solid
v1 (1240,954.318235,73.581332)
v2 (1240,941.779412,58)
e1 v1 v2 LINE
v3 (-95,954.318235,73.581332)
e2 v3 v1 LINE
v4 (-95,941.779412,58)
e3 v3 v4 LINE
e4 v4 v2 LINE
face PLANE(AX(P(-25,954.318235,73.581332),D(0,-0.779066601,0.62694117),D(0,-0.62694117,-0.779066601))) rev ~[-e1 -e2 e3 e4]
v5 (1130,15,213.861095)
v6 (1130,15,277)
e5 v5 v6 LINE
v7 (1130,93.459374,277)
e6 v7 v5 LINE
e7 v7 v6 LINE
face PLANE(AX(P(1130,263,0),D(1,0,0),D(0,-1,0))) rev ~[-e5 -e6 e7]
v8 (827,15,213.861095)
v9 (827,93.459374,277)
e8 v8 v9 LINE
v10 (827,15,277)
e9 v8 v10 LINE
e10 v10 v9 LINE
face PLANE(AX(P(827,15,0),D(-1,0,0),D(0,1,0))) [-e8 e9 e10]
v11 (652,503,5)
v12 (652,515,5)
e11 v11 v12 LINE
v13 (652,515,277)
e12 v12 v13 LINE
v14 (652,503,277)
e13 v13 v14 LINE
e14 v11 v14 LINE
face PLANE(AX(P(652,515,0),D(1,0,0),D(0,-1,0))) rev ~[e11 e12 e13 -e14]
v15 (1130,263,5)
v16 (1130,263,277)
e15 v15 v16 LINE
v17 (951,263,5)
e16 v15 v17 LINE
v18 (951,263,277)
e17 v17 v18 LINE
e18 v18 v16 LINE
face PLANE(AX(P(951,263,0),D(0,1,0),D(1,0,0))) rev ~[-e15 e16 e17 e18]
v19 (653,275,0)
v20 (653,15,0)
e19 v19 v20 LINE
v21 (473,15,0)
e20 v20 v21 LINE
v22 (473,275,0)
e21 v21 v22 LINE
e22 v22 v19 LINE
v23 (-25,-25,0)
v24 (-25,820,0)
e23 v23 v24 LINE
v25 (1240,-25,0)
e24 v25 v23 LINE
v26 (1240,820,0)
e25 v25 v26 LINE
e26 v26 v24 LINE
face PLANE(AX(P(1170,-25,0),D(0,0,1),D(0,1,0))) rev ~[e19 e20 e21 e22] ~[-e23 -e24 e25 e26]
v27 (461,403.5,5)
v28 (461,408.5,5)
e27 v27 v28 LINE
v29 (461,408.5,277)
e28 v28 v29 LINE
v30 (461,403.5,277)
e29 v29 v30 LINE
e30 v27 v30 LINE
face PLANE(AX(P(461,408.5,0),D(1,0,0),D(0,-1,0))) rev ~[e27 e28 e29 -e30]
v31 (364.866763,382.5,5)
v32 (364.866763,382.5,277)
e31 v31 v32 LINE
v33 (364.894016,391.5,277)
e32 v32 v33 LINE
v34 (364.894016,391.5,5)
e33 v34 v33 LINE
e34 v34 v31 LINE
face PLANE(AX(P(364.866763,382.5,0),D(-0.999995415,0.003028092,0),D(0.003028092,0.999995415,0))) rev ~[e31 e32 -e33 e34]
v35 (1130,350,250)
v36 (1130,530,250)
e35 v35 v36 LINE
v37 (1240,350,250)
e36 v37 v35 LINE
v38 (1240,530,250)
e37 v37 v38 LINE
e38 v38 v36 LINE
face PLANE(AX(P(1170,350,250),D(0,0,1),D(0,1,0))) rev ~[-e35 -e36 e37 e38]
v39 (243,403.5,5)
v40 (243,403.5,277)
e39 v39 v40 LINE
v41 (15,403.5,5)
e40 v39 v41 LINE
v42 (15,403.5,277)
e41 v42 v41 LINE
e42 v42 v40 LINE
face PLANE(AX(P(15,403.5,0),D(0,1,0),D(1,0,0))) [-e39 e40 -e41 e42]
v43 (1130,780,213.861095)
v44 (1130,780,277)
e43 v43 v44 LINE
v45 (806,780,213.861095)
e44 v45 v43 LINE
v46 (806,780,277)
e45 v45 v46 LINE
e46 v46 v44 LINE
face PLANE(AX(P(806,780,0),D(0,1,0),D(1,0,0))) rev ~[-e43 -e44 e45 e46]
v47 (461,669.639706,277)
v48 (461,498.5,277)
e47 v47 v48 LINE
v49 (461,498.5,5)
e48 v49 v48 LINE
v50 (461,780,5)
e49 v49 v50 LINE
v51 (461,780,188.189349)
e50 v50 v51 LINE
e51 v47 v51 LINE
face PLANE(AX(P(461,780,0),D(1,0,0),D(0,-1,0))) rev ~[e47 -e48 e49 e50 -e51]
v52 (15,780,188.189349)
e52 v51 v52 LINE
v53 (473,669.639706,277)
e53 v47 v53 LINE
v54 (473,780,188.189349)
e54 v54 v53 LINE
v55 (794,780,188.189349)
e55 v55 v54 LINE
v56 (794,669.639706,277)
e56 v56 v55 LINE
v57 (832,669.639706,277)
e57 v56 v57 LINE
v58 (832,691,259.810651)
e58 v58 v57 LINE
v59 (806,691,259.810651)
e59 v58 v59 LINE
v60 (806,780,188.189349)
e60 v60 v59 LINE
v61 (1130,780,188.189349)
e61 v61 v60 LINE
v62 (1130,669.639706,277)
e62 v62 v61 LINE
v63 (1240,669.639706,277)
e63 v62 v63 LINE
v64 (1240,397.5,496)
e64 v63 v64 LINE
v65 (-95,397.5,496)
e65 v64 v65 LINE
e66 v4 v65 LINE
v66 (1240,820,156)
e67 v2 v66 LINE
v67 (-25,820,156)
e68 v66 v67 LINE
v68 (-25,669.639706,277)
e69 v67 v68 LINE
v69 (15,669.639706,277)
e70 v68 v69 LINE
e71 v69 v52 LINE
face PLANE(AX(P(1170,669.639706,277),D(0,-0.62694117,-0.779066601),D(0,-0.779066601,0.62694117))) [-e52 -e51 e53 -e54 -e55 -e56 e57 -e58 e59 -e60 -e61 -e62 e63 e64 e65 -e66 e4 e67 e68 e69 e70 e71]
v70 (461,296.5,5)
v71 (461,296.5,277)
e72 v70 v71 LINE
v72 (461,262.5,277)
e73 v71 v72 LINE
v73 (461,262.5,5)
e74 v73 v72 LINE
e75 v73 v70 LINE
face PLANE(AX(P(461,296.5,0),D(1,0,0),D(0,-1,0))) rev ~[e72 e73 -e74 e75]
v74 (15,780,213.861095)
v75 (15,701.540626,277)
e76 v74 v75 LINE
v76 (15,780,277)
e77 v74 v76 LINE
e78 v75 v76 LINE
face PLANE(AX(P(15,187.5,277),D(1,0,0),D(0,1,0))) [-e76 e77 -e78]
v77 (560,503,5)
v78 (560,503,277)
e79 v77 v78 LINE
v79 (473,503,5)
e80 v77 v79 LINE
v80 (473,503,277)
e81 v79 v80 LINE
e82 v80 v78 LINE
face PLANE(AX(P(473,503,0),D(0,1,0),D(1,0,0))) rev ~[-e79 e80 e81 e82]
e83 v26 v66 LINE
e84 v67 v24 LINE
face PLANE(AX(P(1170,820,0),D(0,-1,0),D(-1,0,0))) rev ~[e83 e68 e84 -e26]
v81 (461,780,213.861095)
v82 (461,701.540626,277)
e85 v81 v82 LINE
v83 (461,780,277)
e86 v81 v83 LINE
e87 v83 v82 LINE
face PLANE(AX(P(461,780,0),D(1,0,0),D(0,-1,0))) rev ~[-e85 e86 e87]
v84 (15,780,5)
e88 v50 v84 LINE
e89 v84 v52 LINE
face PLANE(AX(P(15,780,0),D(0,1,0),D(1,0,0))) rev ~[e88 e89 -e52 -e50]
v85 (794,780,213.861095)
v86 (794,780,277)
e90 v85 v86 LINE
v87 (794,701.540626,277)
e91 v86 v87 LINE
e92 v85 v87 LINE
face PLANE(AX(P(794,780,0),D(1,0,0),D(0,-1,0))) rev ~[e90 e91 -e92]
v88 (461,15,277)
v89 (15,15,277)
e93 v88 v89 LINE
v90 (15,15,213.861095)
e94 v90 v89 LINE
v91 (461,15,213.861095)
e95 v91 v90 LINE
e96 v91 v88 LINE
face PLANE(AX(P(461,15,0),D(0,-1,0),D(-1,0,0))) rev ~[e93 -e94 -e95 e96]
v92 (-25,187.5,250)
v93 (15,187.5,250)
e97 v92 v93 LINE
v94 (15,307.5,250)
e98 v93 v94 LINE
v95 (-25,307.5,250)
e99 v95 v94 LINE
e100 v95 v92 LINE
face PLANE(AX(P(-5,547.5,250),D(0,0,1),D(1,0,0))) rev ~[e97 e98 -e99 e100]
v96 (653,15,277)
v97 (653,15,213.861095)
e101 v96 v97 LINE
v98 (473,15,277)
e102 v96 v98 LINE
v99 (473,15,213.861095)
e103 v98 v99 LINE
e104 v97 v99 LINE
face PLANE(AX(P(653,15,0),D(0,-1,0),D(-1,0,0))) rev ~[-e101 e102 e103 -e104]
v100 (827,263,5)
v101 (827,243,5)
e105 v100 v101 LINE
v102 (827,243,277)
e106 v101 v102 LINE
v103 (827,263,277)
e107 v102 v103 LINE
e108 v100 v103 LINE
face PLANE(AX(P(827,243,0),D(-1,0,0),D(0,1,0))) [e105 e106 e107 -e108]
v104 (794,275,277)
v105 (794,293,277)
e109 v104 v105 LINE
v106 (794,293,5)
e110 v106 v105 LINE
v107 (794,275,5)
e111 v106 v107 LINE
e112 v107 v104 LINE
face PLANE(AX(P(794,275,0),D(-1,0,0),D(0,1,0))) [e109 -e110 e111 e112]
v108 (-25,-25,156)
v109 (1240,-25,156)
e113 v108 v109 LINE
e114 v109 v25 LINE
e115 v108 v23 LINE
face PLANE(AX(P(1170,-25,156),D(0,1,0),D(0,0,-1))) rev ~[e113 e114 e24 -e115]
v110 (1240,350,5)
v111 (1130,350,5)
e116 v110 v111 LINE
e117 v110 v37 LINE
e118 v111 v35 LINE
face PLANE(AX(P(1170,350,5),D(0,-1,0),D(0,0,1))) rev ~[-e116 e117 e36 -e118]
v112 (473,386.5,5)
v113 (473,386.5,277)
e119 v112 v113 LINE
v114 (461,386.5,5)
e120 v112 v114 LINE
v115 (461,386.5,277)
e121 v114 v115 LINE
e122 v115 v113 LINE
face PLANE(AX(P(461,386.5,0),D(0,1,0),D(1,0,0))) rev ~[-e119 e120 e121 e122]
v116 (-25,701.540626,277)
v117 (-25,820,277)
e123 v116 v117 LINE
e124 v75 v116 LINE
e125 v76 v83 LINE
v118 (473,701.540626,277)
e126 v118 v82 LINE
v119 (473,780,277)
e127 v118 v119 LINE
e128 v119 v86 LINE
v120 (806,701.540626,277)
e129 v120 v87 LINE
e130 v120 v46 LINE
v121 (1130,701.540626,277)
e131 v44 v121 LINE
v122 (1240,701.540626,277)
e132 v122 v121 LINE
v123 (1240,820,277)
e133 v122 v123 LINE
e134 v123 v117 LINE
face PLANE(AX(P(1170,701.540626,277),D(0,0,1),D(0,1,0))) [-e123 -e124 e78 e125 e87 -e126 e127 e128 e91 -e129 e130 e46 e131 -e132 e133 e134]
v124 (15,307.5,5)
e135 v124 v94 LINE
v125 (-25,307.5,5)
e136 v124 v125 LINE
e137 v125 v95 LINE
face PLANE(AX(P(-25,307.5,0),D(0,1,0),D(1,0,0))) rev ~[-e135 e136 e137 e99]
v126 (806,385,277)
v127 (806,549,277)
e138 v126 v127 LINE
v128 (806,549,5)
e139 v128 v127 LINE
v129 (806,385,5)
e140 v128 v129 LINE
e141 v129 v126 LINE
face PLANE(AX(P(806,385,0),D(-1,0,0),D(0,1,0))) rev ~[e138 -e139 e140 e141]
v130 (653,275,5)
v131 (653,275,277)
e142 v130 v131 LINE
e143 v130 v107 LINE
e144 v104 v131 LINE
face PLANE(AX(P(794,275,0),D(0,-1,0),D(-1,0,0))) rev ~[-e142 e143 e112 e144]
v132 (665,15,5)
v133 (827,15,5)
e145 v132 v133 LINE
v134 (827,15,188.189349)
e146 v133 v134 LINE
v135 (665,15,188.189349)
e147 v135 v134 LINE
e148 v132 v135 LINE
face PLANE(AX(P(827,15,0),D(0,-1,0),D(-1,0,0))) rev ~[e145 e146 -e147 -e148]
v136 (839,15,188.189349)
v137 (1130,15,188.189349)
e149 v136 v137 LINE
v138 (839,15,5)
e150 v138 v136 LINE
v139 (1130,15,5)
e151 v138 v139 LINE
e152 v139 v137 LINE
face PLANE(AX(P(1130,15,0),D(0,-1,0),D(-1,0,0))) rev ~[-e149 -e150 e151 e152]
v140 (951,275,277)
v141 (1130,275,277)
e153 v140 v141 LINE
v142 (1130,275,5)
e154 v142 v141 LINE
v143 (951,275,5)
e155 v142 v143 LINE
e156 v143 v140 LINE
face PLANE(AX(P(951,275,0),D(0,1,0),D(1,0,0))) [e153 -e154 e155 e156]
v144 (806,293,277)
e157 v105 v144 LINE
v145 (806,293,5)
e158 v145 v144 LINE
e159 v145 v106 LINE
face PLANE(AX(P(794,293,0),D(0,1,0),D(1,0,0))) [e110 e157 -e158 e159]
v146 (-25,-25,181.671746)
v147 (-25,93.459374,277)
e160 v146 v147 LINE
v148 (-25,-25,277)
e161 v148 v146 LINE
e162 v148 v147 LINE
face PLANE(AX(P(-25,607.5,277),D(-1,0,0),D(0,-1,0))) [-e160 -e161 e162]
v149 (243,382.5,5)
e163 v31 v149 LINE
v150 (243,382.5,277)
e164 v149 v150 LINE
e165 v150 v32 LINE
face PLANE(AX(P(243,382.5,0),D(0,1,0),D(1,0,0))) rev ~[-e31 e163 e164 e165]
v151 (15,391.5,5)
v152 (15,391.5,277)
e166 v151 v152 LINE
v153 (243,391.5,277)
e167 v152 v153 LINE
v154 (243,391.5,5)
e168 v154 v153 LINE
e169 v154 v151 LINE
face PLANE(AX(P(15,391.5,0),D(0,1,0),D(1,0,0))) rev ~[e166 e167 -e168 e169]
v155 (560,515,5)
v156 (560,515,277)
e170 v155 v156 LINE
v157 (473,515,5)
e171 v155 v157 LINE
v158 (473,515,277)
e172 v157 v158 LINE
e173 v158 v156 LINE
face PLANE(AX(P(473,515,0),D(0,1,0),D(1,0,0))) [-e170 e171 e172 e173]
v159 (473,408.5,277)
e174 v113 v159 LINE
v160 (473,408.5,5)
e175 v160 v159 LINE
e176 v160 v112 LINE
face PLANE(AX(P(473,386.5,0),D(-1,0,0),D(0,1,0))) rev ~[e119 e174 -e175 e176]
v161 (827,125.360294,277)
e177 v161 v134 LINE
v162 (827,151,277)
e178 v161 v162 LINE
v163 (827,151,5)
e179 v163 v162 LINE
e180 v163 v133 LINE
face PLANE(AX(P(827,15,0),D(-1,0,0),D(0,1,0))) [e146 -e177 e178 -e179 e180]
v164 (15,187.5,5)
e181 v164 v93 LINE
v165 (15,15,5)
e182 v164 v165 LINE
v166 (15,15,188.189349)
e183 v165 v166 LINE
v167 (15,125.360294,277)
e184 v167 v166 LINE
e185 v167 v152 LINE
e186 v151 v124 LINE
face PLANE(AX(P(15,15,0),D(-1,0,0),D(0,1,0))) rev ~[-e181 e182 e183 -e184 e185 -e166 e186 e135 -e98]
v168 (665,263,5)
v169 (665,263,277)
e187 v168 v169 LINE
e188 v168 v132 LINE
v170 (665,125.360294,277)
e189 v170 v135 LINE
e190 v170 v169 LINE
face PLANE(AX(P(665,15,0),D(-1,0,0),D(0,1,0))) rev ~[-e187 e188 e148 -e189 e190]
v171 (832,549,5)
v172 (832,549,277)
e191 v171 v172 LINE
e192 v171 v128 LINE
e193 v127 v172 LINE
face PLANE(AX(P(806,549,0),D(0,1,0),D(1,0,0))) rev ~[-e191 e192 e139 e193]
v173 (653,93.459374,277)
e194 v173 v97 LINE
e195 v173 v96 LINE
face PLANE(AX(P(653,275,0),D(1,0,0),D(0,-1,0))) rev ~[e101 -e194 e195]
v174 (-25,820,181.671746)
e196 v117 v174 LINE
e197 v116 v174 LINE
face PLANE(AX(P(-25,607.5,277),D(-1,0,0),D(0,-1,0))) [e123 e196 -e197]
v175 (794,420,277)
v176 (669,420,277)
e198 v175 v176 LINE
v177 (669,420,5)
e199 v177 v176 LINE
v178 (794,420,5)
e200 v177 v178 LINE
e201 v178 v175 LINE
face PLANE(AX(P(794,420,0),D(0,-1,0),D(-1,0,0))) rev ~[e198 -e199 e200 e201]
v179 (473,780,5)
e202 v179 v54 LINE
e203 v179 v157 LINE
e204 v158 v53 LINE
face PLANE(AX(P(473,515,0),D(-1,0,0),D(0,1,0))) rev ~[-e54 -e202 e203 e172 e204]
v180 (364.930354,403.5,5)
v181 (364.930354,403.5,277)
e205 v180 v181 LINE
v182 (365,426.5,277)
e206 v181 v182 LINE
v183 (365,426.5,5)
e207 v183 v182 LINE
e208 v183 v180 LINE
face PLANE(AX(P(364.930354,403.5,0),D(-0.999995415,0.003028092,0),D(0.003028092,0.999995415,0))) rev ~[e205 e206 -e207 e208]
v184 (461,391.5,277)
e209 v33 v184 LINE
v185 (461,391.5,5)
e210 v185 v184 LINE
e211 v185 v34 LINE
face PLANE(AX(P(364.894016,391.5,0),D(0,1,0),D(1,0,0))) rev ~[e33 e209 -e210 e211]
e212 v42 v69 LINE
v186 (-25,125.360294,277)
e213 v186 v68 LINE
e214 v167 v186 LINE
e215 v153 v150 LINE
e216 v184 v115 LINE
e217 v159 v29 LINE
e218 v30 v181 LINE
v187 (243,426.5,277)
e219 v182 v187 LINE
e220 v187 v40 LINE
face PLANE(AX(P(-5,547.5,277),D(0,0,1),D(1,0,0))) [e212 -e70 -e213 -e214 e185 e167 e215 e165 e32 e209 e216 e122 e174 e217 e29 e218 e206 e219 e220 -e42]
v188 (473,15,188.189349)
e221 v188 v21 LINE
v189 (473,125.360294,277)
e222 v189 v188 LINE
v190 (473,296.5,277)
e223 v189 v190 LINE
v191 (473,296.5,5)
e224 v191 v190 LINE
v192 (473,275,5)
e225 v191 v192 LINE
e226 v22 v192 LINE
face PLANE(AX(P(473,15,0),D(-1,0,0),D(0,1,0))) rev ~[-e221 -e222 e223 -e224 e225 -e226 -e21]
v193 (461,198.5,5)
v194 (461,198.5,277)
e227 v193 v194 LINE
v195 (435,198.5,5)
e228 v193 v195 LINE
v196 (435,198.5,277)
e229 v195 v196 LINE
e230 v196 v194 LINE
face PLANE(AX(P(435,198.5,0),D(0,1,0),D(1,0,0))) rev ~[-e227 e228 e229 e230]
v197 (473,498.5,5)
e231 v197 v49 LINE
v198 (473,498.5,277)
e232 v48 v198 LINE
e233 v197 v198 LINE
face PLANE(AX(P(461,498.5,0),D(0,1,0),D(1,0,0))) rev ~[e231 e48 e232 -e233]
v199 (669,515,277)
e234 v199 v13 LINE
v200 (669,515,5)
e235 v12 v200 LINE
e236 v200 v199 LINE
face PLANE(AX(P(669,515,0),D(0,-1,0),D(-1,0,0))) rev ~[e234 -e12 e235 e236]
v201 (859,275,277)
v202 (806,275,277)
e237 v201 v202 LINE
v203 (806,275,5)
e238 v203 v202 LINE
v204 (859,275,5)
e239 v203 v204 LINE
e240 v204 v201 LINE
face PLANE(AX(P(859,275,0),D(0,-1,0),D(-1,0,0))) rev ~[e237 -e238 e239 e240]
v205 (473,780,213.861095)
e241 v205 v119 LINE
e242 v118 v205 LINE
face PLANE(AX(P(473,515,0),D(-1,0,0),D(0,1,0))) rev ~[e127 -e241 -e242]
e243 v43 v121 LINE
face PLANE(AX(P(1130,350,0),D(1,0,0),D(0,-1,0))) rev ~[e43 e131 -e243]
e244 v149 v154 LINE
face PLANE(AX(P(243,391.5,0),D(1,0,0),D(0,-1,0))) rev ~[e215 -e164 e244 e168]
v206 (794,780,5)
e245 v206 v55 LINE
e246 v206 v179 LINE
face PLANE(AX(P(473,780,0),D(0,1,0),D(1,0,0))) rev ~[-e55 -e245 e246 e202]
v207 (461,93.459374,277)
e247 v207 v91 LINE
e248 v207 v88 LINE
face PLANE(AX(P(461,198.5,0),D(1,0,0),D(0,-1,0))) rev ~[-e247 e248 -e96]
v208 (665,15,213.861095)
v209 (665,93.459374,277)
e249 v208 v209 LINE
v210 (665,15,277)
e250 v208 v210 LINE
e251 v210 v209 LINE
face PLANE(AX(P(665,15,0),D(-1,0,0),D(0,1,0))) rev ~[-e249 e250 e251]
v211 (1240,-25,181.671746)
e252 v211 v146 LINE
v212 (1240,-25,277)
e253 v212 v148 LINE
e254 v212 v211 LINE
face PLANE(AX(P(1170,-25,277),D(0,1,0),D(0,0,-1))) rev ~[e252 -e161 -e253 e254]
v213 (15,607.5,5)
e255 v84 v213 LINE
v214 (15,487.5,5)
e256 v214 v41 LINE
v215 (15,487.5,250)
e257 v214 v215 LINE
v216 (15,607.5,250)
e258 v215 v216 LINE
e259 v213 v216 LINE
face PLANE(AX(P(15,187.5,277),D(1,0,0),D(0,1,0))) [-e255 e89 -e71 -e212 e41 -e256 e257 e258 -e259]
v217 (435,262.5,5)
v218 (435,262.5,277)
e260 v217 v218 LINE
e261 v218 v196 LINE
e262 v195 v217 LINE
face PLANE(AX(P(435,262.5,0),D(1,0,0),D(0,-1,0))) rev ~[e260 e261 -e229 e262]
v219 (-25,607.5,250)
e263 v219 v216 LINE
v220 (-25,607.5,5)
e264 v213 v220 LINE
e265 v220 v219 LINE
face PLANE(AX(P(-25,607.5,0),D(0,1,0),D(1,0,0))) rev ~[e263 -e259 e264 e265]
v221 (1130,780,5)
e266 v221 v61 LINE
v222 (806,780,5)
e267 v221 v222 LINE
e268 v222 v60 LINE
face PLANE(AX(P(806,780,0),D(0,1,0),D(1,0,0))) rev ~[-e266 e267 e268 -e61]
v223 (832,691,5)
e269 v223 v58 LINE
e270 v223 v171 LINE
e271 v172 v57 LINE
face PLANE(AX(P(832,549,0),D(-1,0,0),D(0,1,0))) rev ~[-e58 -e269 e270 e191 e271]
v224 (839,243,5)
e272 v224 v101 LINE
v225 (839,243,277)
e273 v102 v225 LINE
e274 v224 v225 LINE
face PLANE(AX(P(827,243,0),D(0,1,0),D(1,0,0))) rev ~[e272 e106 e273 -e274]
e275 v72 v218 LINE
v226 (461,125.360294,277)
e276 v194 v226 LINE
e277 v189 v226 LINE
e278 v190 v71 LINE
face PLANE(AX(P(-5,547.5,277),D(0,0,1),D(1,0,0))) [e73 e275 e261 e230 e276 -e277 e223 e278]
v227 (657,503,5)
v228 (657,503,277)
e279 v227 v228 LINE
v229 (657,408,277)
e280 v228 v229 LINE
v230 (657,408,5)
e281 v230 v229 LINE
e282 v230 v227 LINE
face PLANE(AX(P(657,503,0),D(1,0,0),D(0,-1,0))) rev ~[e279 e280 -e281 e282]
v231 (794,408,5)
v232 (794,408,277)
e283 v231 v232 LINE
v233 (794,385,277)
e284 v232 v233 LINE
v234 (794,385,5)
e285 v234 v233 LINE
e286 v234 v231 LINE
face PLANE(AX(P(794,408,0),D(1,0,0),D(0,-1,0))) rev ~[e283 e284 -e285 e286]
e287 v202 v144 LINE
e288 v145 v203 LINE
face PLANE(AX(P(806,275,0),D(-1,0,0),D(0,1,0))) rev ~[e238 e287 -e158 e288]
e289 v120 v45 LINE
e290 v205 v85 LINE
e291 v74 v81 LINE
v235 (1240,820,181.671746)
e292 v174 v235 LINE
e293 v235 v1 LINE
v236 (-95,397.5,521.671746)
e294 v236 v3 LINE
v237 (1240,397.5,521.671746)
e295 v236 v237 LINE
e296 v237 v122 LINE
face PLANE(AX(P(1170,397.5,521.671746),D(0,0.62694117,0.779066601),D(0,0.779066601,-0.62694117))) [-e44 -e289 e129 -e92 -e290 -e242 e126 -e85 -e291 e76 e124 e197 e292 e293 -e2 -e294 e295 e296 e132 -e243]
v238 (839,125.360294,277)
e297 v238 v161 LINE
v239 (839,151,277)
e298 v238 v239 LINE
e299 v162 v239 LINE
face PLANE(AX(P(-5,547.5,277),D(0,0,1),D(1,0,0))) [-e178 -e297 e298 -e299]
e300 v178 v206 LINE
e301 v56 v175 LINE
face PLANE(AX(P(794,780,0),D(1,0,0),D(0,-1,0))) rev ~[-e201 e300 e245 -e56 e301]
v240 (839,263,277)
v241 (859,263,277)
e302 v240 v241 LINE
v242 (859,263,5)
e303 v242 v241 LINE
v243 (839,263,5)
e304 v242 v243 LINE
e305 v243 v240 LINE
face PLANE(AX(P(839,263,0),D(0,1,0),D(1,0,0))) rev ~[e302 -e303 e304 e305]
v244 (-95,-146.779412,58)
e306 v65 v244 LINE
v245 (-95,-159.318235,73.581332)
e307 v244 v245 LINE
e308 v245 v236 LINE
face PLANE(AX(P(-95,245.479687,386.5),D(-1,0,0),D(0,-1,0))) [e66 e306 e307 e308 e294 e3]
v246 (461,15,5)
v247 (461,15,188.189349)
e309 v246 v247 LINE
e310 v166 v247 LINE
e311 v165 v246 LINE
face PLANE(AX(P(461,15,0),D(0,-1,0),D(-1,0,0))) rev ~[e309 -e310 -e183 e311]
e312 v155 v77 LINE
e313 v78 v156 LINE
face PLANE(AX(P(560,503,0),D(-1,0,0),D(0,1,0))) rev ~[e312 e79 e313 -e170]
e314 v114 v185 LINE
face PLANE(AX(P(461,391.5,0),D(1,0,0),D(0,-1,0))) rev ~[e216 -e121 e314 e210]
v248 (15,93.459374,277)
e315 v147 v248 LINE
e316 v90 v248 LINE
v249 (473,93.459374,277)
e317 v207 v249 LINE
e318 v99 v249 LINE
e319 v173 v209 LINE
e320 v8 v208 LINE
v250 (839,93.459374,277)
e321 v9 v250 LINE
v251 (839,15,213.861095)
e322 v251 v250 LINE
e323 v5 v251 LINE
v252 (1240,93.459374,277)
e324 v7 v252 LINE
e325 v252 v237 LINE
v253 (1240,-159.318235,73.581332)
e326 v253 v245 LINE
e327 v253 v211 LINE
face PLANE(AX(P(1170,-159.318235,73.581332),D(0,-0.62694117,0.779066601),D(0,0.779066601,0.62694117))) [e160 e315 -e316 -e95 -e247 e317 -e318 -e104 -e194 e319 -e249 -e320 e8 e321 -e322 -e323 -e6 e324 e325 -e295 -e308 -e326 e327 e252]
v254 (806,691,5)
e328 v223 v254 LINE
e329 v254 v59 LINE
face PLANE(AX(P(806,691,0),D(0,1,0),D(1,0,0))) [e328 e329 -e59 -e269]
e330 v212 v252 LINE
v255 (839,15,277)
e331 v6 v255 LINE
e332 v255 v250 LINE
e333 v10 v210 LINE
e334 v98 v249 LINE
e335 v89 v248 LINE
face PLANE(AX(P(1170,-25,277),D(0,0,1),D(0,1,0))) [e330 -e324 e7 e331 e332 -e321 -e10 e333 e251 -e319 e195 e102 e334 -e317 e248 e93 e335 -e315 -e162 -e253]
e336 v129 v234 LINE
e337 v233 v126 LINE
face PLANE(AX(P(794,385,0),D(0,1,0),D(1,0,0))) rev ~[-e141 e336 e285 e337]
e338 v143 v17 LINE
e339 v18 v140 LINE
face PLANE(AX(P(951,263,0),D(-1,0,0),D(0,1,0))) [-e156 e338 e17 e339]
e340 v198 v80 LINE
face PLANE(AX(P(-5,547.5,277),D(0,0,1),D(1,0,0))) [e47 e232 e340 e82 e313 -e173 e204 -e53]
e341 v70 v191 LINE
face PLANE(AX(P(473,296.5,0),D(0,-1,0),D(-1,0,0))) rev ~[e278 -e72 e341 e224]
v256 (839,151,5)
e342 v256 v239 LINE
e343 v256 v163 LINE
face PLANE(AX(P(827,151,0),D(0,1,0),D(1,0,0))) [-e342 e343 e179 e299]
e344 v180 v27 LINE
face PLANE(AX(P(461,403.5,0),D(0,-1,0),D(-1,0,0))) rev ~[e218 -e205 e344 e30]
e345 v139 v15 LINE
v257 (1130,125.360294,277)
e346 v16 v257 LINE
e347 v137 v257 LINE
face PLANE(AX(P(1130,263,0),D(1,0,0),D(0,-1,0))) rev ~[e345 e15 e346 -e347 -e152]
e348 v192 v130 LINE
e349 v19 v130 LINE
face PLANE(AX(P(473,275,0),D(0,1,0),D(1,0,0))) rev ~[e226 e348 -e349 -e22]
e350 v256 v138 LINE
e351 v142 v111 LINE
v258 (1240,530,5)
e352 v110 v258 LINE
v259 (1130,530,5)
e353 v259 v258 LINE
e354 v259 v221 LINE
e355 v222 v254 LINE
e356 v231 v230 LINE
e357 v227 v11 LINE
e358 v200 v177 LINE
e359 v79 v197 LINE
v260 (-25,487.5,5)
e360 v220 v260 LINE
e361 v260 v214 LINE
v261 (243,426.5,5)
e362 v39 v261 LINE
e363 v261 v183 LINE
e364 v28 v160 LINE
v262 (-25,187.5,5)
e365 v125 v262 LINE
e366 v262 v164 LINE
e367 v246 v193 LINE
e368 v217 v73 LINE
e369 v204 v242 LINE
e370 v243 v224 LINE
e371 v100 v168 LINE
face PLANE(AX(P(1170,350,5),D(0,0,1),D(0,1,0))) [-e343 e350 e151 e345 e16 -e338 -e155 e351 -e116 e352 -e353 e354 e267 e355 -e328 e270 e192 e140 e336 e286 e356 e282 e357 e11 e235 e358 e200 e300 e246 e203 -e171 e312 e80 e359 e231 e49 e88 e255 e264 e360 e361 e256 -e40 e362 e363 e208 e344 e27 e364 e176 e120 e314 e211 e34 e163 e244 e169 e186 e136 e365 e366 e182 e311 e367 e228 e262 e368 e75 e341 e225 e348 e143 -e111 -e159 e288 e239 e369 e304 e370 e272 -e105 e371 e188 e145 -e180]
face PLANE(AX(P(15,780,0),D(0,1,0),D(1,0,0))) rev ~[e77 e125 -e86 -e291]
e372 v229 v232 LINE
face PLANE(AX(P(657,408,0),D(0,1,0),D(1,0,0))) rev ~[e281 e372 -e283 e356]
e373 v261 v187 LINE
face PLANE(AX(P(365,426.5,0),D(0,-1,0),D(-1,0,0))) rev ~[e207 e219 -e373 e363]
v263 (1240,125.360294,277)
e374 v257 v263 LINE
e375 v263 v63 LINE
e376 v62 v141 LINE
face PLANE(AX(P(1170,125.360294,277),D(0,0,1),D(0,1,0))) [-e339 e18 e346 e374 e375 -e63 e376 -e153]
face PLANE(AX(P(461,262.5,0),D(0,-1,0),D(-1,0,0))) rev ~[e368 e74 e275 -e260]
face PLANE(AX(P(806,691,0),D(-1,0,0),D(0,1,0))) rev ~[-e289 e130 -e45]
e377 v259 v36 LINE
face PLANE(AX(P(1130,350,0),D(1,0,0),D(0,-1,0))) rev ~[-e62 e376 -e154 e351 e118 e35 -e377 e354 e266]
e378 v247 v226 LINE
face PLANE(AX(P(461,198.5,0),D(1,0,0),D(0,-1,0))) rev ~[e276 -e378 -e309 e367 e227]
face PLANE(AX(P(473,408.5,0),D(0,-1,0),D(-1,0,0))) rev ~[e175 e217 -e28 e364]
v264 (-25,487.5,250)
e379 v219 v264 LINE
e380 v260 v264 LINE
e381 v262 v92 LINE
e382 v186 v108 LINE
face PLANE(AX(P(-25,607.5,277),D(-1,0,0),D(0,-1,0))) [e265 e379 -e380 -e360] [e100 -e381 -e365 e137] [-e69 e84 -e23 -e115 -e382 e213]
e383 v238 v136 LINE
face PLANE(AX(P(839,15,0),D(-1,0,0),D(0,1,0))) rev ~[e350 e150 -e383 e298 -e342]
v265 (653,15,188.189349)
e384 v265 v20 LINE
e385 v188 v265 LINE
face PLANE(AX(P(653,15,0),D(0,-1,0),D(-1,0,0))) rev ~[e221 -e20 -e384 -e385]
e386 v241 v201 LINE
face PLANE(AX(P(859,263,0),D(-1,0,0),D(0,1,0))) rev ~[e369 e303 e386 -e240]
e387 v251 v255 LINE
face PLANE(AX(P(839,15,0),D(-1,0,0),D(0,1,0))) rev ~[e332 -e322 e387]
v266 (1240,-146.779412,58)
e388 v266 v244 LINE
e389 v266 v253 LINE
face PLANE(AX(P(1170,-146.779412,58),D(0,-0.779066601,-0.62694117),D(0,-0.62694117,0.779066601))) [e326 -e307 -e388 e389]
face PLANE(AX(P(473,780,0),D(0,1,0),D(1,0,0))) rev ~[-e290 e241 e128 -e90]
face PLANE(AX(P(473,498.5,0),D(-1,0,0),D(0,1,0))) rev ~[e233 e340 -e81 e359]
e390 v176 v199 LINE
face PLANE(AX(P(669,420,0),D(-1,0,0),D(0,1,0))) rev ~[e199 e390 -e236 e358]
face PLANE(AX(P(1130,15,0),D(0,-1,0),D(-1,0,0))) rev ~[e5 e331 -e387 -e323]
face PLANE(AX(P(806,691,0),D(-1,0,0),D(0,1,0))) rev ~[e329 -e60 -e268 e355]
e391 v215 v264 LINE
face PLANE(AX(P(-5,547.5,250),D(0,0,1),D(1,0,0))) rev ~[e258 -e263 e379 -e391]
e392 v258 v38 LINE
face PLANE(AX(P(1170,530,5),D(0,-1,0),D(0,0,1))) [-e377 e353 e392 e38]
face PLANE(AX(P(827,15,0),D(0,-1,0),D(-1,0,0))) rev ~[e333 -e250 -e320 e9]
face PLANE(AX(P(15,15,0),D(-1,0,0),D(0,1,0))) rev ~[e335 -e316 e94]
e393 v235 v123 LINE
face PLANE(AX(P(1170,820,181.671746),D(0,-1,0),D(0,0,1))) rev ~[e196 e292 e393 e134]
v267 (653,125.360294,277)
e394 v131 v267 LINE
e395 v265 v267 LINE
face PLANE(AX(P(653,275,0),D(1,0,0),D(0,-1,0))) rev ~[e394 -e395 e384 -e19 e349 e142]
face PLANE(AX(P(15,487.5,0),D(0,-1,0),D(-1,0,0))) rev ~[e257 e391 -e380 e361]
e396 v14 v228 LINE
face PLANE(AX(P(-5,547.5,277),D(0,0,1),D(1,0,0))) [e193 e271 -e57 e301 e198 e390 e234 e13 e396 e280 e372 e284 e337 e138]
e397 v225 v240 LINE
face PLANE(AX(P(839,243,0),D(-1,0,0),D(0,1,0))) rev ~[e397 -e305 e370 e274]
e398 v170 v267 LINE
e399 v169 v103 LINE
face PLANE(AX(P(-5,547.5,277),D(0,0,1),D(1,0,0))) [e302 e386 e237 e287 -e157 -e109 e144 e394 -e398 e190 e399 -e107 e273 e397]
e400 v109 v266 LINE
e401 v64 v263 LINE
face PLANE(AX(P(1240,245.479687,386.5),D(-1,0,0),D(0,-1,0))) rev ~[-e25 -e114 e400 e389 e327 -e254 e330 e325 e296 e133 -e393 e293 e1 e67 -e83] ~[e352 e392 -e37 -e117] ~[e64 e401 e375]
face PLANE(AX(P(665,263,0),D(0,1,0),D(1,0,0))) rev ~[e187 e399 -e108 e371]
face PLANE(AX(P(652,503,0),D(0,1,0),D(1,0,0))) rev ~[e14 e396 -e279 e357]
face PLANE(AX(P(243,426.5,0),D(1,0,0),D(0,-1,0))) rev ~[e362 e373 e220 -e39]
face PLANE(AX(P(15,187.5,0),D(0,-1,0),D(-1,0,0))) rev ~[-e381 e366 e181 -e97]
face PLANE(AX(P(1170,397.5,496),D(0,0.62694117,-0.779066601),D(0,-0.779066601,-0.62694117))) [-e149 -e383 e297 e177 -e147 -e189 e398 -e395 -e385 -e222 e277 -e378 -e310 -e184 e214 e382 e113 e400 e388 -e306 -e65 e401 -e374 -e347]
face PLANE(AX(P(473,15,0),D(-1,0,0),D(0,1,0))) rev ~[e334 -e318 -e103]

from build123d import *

# Parameters (mm, degrees)
F0_W     = 179
F0_H     = 12
F0_W_2   = 138
F0_H_2   = 40
F0_W_3   = 40
F0_H_3   = 120
F0_W_4   = 92
F0_W_5   = 12
F0_H_4   = 90
F0_H_5   = 180
F0_W_6   = 87
F0_H_6   = 92
F0_W_7   = 26
F0_H_7   = 142
F0_H_8   = 136
F0_W_8   = 228
F0_H_9   = 18
F0_H_10  = 20
F0_W_9   = 20
F1_DEPTH = 5
F2_DEPTH = 277
F3_W     = 40
F3_H     = 120
F3_H_2   = 180
F4_DEPTH = 27
F6_DEPTH = 70
F7_DEPTH = 1265
F8_DEPTH = 70


with BuildPart() as f1:
    # F0 (on Top) → F1 (new body)
    with BuildSketch(Plane.XY):
        with Locations((1040.5, 269)):
            Rectangle(F0_W, F0_H)
        Polygon((794, 408), (794, 420), (669, 420), (669, 515), (652, 515), (652, 503), (657, 503), (657, 408), align=None)
        with Locations((392, -5)):
            Rectangle(F0_W_2, F0_H_2)
        Polygon((1130, 350), (1130, 530), (1130, 780), (806, 780), (806, 691), (832, 691), (832, 549), (806, 549), (806, 385), (806, 293), (806, 275), (839, 275), (859, 275), (951, 275), (1130, 275), align=None)
        with Locations((-5, 547.5)):
            Rectangle(F0_W_3, F0_H_3)
        with Locations((-5, 247.5)):
            Rectangle(F0_W_3, F0_H_3)
        Polygon((15, 487.5), (-25, 487.5), (-25, 307.5), (15, 307.5), (15, 382.1609020233), (15, 391.5), (15, 403.5), align=None)
        Polygon((15, 187.5), (-25, 187.5), (-25, -25), (323, -25), (323, 15), (15, 15), align=None)
        Polygon((1130, 15), (1130, 263), (951, 263), (859, 263), (839, 263), (839, 243), (839, 151), (839, 15), align=None)
        with Locations((905, 269)):
            Rectangle(F0_W_4, F0_H)
        Polygon((364.8940163038, 391.5), (243, 391.5), (243, 382.5), (364.8667633533, 382.5), align=None)
        Polygon((473, 780), (461, 780), (461, 498.5), (473, 498.5), (473, 503), (473, 515), align=None)
        with Locations((467, 453.5)):
            Rectangle(F0_W_5, F0_H_4)
        Polygon((243, 426.5), (243, 403.5), (364.9303535711, 403.5), (365, 426.5), align=None)
        Polygon((473, 503), (473, 498.5), (473, 408.5), (473, 386.5), (473, 296.5), (473, 275), (653, 275), (670, 275), (794, 275), (794, 293), (794, 385), (794, 408), (657, 408), (657, 503), (652, 503), (560, 503), align=None)
        with Locations((1150, 440)):
            Rectangle(F0_W_3, F0_H_5)
        Polygon((665, 263), (665, 15), (827, 15), (827, 151), (827, 243), (827, 263), (806, 263), (794, 263), align=None)
        with Locations((516.5, 509)):
            Rectangle(F0_W_6, F0_H)
        with Locations((467, 341.5)):
            Rectangle(F0_W_5, F0_H_4)
        Polygon((15, 382.1609020233), (15, 307.5), (15, 187.5), (15, 15), (323, 15), (461, 15), (461, 198.5), (435, 198.5), (435, 262.5), (461, 262.5), (461, 296.5), (461, 386.5), (461, 391.5), (365, 391.5), (364.8940163038, 391.5), (364.8667633533, 382.5), (243, 382.5), (243, 391.5), (15, 391.5), align=None)
        Polygon((1170, 530), (1170, 820), (-25, 820), (-25, 607.5), (15, 607.5), (15, 780), (461, 780), (473, 780), (794, 780), (806, 780), (1130, 780), (1130, 530), align=None)
        with Locations((833, 197)):
            Rectangle(F0_W_5, F0_H_6)
        Polygon((461, 198.5), (461, 15), (473, 15), (473, 275), (473, 296.5), (461, 296.5), (461, 262.5), (435, 262.5), (435, 198.5), align=None)
        Polygon((794, 420), (794, 780), (473, 780), (473, 515), (560, 515), (652, 515), (669, 515), (669, 420), align=None)
        with Locations((819, 620)):
            Rectangle(F0_W_7, F0_H_7)
        with Locations((606, 509)):
            Rectangle(F0_W_4, F0_H)
        with Locations((833, 83)):
            Rectangle(F0_W_5, F0_H_8)
        Polygon((653, 275), (653, 15), (665, 15), (665, 263), (794, 263), (794, 275), (670, 275), align=None)
        Polygon((1170, -25), (1170, 350), (1130, 350), (1130, 275), (1130, 263), (1130, 15), (839, 15), (827, 15), (665, 15), (653, 15), (473, 15), (461, 15), (461, -25), align=None)
        with Locations((800, 339)):
            Rectangle(F0_W_5, F0_H_6)
        with Locations((129, 397.5)):
            Rectangle(F0_W_8, F0_H)
        with Locations((800, 284)):
            Rectangle(F0_W_5, F0_H_9)
        Polygon((806, 691), (806, 780), (794, 780), (794, 420), (794, 408), (794, 385), (806, 385), (806, 549), align=None)
        with Locations((833, 253)):
            Rectangle(F0_W_5, F0_H_10)
        Polygon((839, 263), (839, 275), (806, 275), (806, 263), (827, 263), align=None)
        with Locations((849, 269)):
            Rectangle(F0_W_9, F0_H)
        Polygon((365, 403.5), (364.9303535711, 403.5), (364.8940163038, 391.5), (365, 391.5), (461, 391.5), (461, 386.5), (473, 386.5), (473, 408.5), (461, 408.5), (461, 403.5), align=None)
        Polygon((364.9303535711, 403.5), (243, 403.5), (243, 391.5), (364.8940163038, 391.5), align=None)
        with Locations((800, 269)):
            Rectangle(F0_W_5, F0_H)
        Polygon((15, 780), (15, 607.5), (15, 487.5), (15, 403.5), (243, 403.5), (243, 426.5), (365, 426.5), (364.9303535711, 403.5), (365, 403.5), (461, 403.5), (461, 408.5), (461, 498.5), (461, 780), align=None)
    extrude(amount=F1_DEPTH)

    # F0 (on Top) → F2 (join)
    with BuildSketch(Plane.XY):
        Polygon((15, 187.5), (-25, 187.5), (-25, -25), (323, -25), (323, 15), (15, 15), align=None)
        with Locations((392, -5)):
            Rectangle(F0_W_2, F0_H_2)
        Polygon((1170, -25), (1170, 350), (1130, 350), (1130, 275), (1130, 263), (1130, 15), (839, 15), (827, 15), (665, 15), (653, 15), (473, 15), (461, 15), (461, -25), align=None)
        with Locations((833, 83)):
            Rectangle(F0_W_5, F0_H_8)
        Polygon((653, 275), (653, 15), (665, 15), (665, 263), (794, 263), (794, 275), (670, 275), align=None)
        Polygon((461, 198.5), (461, 15), (473, 15), (473, 275), (473, 296.5), (461, 296.5), (461, 262.5), (435, 262.5), (435, 198.5), align=None)
        Polygon((15, 487.5), (-25, 487.5), (-25, 307.5), (15, 307.5), (15, 382.1609020233), (15, 391.5), (15, 403.5), align=None)
        with Locations((129, 397.5)):
            Rectangle(F0_W_8, F0_H)
        Polygon((243, 426.5), (243, 403.5), (364.9303535711, 403.5), (365, 426.5), align=None)
        Polygon((364.9303535711, 403.5), (243, 403.5), (243, 391.5), (364.8940163038, 391.5), align=None)
        Polygon((364.8940163038, 391.5), (243, 391.5), (243, 382.5), (364.8667633533, 382.5), align=None)
        Polygon((365, 403.5), (364.9303535711, 403.5), (364.8940163038, 391.5), (365, 391.5), (461, 391.5), (461, 386.5), (473, 386.5), (473, 408.5), (461, 408.5), (461, 403.5), align=None)
        Polygon((473, 780), (461, 780), (461, 498.5), (473, 498.5), (473, 503), (473, 515), align=None)
        with Locations((516.5, 509)):
            Rectangle(F0_W_6, F0_H)
        Polygon((794, 408), (794, 420), (669, 420), (669, 515), (652, 515), (652, 503), (657, 503), (657, 408), align=None)
        Polygon((806, 691), (806, 780), (794, 780), (794, 420), (794, 408), (794, 385), (806, 385), (806, 549), align=None)
        with Locations((833, 253)):
            Rectangle(F0_W_5, F0_H_10)
        with Locations((849, 269)):
            Rectangle(F0_W_9, F0_H)
        Polygon((839, 263), (839, 275), (806, 275), (806, 263), (827, 263), align=None)
        with Locations((800, 269)):
            Rectangle(F0_W_5, F0_H)
        with Locations((800, 284)):
            Rectangle(F0_W_5, F0_H_9)
        with Locations((1040.5, 269)):
            Rectangle(F0_W, F0_H)
        Polygon((1170, 530), (1170, 820), (-25, 820), (-25, 607.5), (15, 607.5), (15, 780), (461, 780), (473, 780), (794, 780), (806, 780), (1130, 780), (1130, 530), align=None)
        with Locations((819, 620)):
            Rectangle(F0_W_7, F0_H_7)
    extrude(amount=F2_DEPTH)

    # F3 (on face) → F4 (join)
    with BuildSketch(Plane.XY.offset(277)):
        with Locations((-5, 547.5)):
            Rectangle(F3_W, F3_H)
        with Locations((-5, 397.5)):
            Rectangle(F3_W, F3_H_2)
        with Locations((-5, 247.5)):
            Rectangle(F3_W, F3_H)
        with Locations((1150, 440)):
            Rectangle(F3_W, F3_H_2)
    extrude(amount=-F4_DEPTH)

    # F5 (on face) → F6 (join)
    with BuildSketch(Plane(origin=(-25, 0, 0), x_dir=(0, -1, 0), z_dir=(-1, 0, 0))):
        Polygon((-365.5990801838, 496), (-397.5, 496), (-125.3602941176, 277), (-93.4593743014, 277), align=None)
        Polygon((-93.4593743014, 277), (-125.3602941176, 277), (25, 156), (25, 181.6717461243), align=None)
        Polygon((25, 181.6717461243), (25, 156), (146.7794117647, 58), (159.3182351687, 73.5813320241), align=None)
        Polygon((-429.4009198162, 496), (-397.5, 496), (-365.5990801838, 496), (-397.5, 521.6717461243), align=None)
        Polygon((-669.6397058824, 277), (-397.5, 496), (-429.4009198162, 496), (-701.5406256986, 277), align=None)
        Polygon((-941.7794117647, 58), (-820, 156), (-820, 181.6717461243), (-954.3182351687, 73.5813320241), align=None)
        Polygon((-820, 156), (-669.6397058824, 277), (-701.5406256986, 277), (-820, 181.6717461243), align=None)
    extrude(amount=F6_DEPTH)

    # F7 (add, through all): a face of the model
    f7_faces = [f1.faces().sort_by_distance(p)[0] for p in [
        (-95, 117.7974560425, 286.3979384905),
    ]]
    extrude(f7_faces, amount=-F7_DEPTH)

    # F8 (add): a face of the model
    f8_faces = [f1.faces().sort_by_distance(p)[0] for p in [
        (1170, 807.7023270544, 229.3358730621),
    ]]
    extrude(f8_faces, amount=F8_DEPTH)


solid = f1.part
